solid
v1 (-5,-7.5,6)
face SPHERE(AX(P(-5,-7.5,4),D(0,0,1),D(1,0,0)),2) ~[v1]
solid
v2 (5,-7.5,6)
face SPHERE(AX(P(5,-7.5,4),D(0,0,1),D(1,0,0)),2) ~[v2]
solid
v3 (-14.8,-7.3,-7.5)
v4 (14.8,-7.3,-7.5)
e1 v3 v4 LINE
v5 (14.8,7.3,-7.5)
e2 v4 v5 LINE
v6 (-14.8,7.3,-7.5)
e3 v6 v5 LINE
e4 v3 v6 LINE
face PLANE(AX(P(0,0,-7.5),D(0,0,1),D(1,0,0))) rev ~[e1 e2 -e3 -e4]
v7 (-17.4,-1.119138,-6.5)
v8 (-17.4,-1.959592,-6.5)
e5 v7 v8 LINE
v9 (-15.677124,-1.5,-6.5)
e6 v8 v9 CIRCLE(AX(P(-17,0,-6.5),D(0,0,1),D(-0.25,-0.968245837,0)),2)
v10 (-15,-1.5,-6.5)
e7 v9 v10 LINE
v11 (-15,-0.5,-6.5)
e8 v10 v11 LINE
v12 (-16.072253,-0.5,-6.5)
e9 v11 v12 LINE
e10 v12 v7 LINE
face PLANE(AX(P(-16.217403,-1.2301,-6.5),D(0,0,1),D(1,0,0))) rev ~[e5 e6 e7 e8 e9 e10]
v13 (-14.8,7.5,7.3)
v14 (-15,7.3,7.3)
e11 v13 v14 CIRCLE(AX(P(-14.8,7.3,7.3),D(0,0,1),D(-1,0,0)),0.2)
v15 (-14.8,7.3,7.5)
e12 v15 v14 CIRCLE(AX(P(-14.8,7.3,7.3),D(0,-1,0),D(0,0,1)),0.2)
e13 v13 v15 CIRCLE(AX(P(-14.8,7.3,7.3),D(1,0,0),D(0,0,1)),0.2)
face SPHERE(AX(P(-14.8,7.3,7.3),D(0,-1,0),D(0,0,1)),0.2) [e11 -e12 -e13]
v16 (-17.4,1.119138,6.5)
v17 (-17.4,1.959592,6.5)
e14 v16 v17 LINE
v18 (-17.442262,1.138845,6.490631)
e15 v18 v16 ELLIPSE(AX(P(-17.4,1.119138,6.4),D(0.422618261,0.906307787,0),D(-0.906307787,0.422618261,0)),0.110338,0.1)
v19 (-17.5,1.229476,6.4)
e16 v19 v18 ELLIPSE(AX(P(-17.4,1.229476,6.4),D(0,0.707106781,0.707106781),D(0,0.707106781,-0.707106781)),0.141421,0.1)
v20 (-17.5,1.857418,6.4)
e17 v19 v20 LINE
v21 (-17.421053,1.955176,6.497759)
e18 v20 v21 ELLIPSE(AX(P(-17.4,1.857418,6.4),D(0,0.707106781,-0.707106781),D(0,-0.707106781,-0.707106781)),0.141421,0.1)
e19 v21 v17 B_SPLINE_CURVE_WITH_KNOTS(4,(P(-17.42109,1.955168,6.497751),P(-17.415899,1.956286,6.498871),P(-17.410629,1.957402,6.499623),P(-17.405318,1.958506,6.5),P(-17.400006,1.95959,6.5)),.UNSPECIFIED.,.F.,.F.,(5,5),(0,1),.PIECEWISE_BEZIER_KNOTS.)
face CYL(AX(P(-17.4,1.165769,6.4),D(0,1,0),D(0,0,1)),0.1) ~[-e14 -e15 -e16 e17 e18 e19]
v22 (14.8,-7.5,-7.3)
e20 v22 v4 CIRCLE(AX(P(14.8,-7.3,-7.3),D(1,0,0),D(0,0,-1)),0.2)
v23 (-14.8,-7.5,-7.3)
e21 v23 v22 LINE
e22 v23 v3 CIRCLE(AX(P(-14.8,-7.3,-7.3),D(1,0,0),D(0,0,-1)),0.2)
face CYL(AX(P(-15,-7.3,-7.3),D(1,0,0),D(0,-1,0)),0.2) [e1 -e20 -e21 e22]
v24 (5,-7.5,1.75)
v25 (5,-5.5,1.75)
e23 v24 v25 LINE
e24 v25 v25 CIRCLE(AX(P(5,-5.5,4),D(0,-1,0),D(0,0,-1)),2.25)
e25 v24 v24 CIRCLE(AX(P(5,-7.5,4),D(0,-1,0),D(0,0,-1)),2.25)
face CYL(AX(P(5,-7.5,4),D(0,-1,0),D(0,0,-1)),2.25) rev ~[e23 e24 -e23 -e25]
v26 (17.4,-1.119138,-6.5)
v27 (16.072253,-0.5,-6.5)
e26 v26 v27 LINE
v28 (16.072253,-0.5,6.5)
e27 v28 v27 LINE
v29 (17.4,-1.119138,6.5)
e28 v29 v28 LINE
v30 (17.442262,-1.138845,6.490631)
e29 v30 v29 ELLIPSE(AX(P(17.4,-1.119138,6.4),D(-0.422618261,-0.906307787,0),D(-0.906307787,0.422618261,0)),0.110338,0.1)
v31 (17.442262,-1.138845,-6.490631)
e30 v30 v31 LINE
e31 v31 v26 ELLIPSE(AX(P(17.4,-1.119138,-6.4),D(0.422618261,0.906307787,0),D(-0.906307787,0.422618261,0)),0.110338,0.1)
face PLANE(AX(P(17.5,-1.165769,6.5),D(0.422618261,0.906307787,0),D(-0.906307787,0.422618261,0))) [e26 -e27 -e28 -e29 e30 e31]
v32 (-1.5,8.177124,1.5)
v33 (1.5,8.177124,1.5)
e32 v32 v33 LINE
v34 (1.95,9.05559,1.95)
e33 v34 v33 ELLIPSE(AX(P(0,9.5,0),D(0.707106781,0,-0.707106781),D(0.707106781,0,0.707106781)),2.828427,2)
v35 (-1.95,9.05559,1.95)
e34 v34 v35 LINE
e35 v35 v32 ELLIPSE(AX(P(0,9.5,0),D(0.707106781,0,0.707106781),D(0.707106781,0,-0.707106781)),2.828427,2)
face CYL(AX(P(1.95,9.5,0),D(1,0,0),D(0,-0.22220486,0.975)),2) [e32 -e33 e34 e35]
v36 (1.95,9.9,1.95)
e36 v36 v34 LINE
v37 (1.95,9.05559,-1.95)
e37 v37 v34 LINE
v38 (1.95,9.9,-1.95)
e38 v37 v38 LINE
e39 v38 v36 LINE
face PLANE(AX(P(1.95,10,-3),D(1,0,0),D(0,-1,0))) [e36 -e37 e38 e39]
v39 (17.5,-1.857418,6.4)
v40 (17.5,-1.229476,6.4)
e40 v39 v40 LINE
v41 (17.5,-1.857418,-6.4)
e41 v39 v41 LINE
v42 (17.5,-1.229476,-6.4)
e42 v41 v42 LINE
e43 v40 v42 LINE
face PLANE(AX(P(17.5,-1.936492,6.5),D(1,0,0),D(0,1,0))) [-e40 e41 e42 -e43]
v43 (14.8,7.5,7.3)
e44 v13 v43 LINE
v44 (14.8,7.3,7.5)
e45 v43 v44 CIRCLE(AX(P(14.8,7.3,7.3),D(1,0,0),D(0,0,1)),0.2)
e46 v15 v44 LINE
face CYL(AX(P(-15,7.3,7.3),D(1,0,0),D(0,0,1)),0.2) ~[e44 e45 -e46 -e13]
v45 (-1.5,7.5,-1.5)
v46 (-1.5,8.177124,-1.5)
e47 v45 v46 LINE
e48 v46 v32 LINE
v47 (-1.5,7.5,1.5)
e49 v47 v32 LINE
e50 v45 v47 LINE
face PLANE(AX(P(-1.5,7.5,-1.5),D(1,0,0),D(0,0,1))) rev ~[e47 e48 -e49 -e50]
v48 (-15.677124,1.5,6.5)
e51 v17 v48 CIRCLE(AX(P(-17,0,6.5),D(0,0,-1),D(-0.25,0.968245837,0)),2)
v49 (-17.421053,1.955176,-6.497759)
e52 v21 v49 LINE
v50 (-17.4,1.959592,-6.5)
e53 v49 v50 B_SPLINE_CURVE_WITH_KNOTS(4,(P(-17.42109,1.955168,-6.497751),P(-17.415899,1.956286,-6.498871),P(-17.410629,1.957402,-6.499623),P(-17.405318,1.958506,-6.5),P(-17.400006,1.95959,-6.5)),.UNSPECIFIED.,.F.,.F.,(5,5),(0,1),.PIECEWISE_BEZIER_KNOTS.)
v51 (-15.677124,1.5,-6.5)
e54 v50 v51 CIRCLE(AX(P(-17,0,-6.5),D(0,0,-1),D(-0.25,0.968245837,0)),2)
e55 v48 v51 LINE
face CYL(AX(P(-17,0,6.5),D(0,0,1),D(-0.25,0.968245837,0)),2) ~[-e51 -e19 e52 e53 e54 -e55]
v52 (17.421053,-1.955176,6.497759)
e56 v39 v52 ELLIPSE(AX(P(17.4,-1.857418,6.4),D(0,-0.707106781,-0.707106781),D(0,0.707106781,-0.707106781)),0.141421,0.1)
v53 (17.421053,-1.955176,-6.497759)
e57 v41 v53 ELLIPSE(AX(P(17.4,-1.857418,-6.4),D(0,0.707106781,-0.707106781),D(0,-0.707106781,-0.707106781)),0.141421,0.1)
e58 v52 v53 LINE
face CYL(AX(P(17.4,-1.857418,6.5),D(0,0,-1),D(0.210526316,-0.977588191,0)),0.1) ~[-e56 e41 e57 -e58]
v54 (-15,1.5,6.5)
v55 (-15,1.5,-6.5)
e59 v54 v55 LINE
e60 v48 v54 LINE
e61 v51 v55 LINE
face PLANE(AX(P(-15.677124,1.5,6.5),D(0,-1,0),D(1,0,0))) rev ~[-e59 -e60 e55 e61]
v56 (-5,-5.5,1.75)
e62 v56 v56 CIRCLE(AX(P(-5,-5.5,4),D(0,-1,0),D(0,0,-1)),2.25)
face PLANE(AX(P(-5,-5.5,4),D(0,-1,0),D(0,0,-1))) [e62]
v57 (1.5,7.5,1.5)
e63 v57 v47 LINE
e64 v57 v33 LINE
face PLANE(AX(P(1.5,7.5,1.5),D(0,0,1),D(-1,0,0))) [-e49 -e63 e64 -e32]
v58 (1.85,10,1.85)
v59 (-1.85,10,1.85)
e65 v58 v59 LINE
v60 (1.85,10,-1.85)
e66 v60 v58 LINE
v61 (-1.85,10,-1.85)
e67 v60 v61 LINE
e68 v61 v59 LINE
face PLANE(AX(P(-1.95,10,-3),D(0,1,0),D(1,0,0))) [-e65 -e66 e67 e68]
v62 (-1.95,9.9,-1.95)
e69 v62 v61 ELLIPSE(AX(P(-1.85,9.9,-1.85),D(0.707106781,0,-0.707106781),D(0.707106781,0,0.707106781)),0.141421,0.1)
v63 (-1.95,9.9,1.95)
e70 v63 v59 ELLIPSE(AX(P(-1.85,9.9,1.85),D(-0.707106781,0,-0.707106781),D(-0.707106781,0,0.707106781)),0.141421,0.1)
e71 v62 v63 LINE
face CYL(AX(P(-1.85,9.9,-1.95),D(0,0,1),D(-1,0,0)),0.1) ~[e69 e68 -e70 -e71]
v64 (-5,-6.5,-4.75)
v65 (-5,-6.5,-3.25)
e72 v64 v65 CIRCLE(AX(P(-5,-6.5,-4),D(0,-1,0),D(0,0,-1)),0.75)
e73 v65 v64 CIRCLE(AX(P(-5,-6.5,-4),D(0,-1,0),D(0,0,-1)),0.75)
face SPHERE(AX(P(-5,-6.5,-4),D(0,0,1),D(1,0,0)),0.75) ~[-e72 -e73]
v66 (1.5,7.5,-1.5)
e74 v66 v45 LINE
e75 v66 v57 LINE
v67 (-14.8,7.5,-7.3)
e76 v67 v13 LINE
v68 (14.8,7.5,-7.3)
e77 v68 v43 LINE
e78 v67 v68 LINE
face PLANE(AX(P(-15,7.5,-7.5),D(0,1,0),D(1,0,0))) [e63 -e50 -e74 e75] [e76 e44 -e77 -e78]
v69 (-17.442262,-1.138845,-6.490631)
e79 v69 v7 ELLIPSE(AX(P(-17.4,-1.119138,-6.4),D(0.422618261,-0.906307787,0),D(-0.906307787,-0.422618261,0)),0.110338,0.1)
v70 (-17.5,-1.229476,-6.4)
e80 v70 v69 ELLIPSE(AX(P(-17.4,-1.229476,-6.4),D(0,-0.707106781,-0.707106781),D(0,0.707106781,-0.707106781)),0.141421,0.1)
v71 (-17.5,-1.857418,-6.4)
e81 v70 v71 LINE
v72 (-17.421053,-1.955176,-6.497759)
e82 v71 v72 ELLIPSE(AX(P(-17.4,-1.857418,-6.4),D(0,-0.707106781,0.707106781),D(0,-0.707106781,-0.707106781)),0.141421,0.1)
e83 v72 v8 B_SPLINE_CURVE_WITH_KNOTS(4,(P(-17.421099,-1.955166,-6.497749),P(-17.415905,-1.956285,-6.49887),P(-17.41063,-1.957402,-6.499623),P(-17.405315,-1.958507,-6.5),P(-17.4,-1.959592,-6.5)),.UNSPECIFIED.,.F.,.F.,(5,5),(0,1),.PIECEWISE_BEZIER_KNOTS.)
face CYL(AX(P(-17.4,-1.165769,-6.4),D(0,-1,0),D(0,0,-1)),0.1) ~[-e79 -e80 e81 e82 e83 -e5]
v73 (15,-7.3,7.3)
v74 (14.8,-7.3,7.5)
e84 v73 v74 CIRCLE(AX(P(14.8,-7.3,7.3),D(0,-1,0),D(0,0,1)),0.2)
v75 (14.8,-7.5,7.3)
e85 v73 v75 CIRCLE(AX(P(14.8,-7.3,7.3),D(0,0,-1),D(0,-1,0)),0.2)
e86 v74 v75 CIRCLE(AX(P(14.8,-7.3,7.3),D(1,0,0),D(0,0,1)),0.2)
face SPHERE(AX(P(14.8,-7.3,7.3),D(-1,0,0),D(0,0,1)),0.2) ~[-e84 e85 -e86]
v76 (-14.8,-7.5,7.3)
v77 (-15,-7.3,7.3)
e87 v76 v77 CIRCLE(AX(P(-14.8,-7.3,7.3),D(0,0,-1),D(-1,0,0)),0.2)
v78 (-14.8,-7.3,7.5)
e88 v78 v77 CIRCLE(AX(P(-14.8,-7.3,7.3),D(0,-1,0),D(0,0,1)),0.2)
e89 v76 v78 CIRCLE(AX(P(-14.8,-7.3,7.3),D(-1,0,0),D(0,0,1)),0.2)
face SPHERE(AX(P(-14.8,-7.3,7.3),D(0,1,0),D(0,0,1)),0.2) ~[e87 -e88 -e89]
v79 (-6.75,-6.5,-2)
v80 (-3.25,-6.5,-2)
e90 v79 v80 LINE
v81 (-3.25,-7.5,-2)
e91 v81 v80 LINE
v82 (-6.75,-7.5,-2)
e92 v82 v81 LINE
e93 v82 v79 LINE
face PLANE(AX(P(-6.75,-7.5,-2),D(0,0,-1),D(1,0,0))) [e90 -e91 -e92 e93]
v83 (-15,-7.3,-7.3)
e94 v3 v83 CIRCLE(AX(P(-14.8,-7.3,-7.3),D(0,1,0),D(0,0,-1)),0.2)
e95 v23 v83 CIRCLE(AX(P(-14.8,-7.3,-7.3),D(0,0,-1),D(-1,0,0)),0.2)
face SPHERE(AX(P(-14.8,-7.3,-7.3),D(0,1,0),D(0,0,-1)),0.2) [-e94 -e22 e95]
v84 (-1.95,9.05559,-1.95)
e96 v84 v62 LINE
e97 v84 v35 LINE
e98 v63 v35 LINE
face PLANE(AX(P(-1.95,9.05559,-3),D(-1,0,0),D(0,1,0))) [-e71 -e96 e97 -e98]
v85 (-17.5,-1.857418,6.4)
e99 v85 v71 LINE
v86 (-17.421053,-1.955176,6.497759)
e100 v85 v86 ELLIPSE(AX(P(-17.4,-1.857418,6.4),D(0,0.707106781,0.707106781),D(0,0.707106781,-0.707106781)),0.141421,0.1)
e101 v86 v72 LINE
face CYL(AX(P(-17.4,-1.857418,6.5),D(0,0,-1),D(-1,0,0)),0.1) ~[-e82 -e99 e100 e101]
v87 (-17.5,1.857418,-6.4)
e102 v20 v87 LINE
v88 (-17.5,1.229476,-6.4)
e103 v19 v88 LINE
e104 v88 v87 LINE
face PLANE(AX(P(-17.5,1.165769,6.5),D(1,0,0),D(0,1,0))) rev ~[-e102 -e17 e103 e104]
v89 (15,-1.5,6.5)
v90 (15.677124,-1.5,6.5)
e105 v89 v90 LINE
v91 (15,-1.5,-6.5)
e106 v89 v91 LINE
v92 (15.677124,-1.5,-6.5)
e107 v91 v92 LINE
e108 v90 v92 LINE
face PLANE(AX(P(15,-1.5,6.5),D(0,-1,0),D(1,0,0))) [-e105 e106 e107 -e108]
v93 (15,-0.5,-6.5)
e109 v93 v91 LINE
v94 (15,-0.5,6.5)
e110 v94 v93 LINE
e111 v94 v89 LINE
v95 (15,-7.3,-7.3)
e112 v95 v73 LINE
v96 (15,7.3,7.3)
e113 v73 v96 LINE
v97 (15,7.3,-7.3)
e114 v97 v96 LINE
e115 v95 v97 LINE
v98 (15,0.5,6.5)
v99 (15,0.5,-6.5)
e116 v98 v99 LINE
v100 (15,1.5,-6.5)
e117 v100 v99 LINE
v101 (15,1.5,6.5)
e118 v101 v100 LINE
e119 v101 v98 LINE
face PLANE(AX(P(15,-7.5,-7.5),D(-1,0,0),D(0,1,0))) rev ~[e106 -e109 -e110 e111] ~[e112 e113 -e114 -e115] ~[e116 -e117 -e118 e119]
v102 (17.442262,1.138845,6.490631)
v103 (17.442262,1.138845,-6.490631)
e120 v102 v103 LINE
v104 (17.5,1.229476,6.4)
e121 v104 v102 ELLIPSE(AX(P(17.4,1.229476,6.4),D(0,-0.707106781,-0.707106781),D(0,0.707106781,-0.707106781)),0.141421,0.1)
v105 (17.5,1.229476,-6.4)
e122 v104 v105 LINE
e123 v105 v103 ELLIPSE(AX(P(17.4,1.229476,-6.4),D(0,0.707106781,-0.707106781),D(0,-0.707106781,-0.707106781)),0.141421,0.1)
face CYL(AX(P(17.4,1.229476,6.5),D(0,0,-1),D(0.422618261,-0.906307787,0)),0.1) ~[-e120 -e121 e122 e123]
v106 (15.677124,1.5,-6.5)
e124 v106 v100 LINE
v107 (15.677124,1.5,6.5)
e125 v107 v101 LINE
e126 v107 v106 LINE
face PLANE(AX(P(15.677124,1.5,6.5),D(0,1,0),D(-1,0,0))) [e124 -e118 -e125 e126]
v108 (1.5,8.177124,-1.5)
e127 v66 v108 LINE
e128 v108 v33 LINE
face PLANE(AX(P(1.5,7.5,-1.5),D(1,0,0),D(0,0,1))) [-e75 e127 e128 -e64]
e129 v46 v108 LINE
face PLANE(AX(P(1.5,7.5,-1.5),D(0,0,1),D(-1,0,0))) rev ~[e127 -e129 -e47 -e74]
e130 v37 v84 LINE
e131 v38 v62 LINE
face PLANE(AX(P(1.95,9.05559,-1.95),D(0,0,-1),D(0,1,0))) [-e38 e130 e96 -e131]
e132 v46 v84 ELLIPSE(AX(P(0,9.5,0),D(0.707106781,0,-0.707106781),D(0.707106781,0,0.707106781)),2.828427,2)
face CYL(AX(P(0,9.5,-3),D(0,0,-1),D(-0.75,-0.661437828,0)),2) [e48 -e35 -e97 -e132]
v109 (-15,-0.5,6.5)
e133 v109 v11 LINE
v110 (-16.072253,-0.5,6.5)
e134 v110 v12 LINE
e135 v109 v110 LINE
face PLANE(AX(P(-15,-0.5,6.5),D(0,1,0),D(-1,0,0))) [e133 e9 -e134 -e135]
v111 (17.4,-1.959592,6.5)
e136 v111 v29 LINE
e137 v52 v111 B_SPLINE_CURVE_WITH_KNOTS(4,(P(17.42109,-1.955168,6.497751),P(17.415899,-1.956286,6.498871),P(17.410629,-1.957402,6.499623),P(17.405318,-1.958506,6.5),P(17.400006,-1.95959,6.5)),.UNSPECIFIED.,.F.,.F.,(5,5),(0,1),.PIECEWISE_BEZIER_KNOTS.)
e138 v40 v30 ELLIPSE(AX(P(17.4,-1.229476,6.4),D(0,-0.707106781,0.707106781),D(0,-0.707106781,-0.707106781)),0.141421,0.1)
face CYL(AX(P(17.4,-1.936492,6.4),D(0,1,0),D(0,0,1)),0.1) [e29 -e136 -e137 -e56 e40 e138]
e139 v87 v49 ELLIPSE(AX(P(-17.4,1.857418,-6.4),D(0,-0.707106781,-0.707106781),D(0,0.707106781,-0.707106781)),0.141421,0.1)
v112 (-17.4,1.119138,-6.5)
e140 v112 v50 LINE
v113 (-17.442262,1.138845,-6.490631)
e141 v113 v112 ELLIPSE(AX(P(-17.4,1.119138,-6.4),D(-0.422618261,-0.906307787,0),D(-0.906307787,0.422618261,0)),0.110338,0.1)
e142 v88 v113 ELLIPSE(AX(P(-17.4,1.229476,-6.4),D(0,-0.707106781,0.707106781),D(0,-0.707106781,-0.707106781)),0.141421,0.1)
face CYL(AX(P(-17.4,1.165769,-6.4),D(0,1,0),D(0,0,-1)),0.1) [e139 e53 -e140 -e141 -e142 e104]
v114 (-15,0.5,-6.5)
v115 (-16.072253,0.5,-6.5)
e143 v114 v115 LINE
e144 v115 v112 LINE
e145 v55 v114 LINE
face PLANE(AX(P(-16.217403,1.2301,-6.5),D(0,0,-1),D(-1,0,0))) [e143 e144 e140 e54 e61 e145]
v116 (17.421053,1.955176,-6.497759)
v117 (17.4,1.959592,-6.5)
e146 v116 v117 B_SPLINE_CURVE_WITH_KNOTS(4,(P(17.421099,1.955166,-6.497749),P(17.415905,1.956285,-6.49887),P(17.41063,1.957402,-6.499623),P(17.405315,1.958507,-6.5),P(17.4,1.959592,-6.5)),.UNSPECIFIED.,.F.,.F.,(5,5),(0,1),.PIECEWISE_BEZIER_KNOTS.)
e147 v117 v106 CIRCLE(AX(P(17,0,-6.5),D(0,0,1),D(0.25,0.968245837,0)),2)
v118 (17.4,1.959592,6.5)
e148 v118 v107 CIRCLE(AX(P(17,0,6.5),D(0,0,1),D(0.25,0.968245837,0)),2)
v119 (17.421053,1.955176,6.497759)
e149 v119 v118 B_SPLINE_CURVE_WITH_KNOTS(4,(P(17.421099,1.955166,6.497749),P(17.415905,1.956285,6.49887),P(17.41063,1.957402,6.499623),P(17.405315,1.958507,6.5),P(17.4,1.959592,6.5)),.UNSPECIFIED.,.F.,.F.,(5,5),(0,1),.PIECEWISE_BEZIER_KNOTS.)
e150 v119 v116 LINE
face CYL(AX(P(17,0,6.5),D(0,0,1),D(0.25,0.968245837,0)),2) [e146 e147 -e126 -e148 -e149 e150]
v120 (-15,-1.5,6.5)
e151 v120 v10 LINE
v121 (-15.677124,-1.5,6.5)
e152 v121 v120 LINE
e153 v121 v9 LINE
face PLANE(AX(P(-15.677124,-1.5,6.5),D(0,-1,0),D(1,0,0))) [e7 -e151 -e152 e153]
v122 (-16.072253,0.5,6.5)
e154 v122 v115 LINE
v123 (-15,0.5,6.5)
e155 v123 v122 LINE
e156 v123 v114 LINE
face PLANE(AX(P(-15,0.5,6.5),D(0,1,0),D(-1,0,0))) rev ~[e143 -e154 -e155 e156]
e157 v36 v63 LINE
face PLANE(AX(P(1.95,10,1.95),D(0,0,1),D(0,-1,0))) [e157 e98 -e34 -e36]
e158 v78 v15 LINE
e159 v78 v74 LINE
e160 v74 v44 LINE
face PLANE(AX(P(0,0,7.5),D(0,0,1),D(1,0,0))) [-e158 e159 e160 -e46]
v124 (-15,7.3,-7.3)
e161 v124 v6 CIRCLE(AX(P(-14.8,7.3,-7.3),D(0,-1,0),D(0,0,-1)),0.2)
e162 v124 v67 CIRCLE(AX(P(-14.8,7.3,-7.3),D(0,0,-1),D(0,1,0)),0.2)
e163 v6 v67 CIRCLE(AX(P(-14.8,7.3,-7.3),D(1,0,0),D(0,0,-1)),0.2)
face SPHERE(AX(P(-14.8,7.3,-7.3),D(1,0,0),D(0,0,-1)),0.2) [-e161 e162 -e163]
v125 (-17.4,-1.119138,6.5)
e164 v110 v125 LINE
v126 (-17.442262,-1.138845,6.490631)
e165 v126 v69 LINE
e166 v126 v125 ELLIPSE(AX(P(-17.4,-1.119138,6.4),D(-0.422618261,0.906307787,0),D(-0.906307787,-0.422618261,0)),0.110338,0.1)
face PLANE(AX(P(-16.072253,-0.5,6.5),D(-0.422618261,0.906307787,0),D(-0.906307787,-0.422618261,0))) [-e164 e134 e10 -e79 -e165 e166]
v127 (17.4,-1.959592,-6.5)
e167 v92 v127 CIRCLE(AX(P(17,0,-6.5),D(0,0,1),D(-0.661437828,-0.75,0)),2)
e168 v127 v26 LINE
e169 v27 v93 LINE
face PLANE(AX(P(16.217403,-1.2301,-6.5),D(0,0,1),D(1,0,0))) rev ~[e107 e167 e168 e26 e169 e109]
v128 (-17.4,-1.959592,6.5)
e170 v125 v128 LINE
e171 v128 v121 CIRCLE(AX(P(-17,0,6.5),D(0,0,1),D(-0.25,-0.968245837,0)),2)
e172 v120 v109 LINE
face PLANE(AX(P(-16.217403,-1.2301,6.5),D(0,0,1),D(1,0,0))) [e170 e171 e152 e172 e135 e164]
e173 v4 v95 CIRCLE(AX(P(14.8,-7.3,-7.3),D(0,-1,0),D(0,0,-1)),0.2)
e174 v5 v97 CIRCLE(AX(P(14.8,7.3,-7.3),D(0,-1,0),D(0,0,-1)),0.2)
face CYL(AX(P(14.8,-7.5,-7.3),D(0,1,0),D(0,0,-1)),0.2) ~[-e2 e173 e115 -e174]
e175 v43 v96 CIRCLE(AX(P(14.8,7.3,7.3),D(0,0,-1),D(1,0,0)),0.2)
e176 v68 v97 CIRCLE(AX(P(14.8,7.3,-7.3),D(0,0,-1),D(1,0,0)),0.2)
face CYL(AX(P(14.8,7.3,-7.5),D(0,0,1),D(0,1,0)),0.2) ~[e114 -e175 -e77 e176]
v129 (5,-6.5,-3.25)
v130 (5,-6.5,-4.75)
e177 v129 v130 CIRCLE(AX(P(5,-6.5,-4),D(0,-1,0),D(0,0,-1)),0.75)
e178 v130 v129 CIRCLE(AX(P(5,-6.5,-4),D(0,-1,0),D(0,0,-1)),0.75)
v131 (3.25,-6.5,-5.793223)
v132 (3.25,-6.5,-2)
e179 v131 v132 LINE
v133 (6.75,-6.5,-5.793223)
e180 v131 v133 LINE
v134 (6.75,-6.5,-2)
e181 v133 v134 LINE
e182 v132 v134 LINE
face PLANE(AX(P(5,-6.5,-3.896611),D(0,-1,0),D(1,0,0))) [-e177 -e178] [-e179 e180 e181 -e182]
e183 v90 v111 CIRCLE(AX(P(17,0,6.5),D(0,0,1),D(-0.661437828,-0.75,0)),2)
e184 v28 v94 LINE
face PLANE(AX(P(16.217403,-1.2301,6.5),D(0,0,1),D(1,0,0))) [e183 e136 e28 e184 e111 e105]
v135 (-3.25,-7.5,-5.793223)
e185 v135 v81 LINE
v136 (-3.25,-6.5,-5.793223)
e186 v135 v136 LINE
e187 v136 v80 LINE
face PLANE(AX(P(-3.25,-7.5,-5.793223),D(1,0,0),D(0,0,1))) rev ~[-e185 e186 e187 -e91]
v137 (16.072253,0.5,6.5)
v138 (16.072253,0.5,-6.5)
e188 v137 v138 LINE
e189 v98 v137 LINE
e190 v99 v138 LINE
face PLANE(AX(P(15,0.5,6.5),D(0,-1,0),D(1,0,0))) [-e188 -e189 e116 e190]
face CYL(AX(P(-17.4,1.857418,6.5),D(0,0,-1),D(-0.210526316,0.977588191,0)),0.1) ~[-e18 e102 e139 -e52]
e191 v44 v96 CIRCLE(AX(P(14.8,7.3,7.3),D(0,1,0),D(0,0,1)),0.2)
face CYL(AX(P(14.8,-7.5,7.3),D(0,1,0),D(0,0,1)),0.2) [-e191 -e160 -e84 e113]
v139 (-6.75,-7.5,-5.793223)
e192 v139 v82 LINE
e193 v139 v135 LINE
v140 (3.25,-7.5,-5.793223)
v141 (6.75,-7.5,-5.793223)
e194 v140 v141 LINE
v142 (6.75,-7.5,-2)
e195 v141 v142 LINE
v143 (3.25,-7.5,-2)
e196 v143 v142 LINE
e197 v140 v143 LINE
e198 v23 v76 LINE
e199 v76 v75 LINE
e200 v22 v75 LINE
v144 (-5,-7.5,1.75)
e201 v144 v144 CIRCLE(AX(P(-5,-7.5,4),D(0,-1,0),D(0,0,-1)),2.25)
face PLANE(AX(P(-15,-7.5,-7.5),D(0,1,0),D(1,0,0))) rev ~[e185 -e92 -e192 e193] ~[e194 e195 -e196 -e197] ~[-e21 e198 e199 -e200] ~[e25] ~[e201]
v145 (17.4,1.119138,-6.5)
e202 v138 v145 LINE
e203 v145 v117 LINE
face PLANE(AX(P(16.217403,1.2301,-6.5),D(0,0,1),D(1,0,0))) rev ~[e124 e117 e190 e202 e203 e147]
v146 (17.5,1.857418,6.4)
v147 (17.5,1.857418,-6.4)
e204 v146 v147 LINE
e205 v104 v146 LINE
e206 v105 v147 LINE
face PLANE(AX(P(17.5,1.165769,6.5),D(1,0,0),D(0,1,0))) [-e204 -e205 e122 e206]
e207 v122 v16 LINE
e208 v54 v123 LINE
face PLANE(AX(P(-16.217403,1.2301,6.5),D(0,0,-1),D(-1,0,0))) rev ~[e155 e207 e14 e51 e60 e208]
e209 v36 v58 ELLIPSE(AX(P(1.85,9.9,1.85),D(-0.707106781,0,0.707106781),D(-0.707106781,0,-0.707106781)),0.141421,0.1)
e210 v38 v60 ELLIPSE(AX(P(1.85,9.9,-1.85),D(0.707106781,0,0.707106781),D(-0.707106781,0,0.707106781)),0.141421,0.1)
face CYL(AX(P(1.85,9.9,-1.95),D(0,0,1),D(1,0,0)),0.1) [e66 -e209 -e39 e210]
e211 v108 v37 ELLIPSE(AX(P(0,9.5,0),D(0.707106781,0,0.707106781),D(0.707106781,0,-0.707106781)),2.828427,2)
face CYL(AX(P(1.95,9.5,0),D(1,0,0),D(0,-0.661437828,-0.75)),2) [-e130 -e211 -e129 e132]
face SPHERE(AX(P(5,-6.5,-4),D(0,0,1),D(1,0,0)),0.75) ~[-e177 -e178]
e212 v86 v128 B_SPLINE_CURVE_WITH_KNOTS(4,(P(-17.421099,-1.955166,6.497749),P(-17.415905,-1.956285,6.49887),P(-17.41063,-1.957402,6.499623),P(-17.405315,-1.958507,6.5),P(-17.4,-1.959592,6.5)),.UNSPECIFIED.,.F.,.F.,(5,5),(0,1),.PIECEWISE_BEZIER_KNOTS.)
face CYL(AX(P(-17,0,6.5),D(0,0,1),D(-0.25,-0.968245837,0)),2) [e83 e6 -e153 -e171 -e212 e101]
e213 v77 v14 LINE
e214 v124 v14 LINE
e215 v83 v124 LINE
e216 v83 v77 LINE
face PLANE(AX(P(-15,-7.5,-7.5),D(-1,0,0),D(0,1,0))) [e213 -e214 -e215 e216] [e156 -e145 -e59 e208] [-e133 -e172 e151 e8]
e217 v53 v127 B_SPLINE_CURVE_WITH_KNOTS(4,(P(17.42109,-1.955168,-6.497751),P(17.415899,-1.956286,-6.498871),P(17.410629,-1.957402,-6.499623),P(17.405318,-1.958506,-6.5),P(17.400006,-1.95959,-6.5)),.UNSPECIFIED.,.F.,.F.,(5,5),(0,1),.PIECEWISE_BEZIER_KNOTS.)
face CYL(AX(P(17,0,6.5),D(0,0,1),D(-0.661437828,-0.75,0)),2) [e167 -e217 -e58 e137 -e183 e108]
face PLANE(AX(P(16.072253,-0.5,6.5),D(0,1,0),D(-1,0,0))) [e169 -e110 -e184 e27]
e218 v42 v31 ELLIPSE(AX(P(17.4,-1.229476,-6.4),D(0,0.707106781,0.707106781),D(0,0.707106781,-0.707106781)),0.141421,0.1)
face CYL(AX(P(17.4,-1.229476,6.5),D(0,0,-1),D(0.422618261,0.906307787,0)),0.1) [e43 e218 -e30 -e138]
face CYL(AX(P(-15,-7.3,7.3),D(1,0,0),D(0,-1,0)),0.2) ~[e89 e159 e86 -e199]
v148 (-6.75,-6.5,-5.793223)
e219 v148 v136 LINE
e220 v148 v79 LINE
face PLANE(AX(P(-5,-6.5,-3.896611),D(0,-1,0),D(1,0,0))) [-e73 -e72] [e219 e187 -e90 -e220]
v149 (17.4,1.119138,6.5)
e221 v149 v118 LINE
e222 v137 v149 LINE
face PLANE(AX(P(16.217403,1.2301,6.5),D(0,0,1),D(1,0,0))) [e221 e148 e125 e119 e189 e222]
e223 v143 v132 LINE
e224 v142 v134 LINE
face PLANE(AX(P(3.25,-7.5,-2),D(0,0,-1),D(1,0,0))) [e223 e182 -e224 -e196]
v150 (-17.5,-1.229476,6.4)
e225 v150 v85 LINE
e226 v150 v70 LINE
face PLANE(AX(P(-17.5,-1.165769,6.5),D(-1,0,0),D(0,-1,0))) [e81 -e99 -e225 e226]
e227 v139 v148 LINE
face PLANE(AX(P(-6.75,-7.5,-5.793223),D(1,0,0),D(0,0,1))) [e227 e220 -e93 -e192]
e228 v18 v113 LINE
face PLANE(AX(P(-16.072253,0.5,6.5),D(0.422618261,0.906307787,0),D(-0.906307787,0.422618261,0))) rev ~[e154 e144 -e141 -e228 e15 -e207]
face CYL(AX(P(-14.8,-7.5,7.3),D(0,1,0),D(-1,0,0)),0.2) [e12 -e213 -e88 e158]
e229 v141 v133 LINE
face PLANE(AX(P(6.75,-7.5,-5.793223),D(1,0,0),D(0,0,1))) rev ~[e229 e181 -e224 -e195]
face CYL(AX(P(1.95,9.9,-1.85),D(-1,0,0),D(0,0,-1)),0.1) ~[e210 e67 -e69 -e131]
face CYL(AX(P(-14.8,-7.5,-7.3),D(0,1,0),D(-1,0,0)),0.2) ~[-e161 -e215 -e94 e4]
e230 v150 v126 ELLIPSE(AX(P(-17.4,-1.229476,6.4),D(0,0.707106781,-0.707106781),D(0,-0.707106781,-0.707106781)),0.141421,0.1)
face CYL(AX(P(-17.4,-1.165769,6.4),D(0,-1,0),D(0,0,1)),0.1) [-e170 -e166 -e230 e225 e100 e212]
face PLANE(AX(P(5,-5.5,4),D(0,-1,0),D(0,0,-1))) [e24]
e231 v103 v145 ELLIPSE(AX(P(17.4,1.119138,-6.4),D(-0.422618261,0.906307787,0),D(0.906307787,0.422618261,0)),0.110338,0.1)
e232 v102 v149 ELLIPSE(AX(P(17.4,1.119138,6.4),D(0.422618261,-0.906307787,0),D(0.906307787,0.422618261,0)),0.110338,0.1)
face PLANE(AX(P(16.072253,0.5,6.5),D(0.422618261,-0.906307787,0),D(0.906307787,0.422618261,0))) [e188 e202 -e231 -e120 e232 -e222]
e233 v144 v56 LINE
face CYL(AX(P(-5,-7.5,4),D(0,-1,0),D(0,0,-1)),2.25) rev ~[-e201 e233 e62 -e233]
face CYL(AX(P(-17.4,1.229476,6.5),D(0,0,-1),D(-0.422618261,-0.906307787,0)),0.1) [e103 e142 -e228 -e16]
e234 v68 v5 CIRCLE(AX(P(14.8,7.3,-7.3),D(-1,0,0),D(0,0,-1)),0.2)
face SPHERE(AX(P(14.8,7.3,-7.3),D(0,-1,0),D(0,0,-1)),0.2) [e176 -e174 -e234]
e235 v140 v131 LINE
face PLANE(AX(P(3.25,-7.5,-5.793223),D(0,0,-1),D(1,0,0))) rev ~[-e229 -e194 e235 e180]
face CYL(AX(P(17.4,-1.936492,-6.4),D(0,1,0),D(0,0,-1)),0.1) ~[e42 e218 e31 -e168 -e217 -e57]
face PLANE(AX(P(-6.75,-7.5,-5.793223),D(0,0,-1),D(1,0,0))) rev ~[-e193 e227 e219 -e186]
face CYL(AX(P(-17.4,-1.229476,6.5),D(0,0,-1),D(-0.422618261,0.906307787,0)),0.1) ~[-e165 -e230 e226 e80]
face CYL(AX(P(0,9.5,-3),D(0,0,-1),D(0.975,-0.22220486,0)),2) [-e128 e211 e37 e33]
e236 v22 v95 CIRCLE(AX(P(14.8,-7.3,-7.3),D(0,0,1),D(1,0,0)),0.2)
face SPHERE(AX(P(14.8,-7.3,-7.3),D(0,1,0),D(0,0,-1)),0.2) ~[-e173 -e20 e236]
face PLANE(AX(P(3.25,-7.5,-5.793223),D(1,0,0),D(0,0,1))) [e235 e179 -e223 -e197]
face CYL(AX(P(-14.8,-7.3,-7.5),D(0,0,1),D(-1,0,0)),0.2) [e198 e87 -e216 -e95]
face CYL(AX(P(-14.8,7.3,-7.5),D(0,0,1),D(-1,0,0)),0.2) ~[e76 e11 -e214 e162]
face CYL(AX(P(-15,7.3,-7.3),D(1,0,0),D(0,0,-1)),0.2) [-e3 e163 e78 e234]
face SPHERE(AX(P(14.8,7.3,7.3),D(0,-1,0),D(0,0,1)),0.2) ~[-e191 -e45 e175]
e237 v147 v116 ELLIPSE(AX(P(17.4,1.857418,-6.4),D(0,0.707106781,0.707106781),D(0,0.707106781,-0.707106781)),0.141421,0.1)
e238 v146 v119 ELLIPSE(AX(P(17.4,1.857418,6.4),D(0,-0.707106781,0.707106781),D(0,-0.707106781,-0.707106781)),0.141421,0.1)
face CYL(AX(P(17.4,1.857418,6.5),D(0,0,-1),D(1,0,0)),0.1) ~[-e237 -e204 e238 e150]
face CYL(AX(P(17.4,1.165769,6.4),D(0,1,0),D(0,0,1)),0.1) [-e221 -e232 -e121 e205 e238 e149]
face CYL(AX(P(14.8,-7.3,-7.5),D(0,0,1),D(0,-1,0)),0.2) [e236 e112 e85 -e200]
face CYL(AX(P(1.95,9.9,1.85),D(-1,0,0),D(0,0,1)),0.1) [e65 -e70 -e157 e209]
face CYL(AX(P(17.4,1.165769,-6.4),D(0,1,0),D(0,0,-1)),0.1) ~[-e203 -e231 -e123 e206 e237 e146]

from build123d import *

# Parameters (mm, degrees)
EXTRUDE_1_DEPTH      = 7.5
EXTRUDE_1_DEPTH_BACK = 7.5
SKETCH_1_W           = 30
SKETCH_1_H           = 15
EXTRUDE_START        = -1
EXTRUDE_2_DEPTH      = 13
SKETCH_3_W           = 3
SKETCH_3_H           = 3
EXTRUDE_3_DEPTH      = 1
EXTRUDE_4_DEPTH      = 2
EXTRUDE_4_DEPTH_BACK = 3
CUT_EXTRUDE_1_REACH  = 25.12
SKETCH_6_R           = 2.25
CUT_EXTRUDE_2_DEPTH  = 2
SKETCH_10_W          = 3.5
SKETCH_10_H          = 3.793222558
CUT_EXTRUDE_3_DEPTH  = 1
FILLET_1_R           = 0.1
FILLET_2_R           = 0.2


with BuildPart() as part:
    # 草图1 → 凸台-拉伸1 (new, two sides: drawn at the far end of the back side and taken through both)
    with BuildSketch(Plane.XY.offset(-EXTRUDE_1_DEPTH_BACK)):
        Rectangle(SKETCH_1_W, SKETCH_1_H)
    extrude(amount=EXTRUDE_1_DEPTH + EXTRUDE_1_DEPTH_BACK)

    # 草图2 → 凸台-拉伸2 (add)
    with BuildSketch(Plane.XY.offset(7.5).offset(EXTRUDE_START)):
        with BuildLine():
            Line((-15.677124344, 1.5), (-15, 1.5))
            Line((-15, 1.5), (-15, 0.5))
            Line((-15, 0.5), (-16.07225346, 0.5))
            Line((-16.07225346, 0.5), (-17.5, 1.165769145))
            Line((-17.5, 1.165769145), (-17.5, 1.936491673))
            ThreePointArc((-17.5, 1.936491673), (-16.53426152, 1.94501611), (-15.677124344, 1.5))
        make_face()
        with BuildLine():
            Line((-15.677124344, -1.5), (-15, -1.5))
            Line((-15, -1.5), (-15, -0.5))
            Line((-15, -0.5), (-16.07225346, -0.5))
            Line((-16.07225346, -0.5), (-17.5, -1.165769145))
            Line((-17.5, -1.165769145), (-17.5, -1.936491673))
            ThreePointArc((-17.5, -1.936491673), (-16.53426152, -1.94501611), (-15.677124344, -1.5))
        make_face()
        with BuildLine():
            Line((15, -0.5), (15, -1.5))
            Line((15, -1.5), (15.677124344, -1.5))
            ThreePointArc((15.677124344, -1.5), (16.53426152, -1.94501611), (17.5, -1.936491673))
            Line((17.5, -1.936491673), (17.5, -1.165769145))
            Line((17.5, -1.165769145), (16.07225346, -0.5))
            Line((16.07225346, -0.5), (15, -0.5))
        make_face()
        with BuildLine():
            Line((15, 0.5), (16.07225346, 0.5))
            Line((16.07225346, 0.5), (17.5, 1.165769145))
            Line((17.5, 1.165769145), (17.5, 1.936491673))
            ThreePointArc((17.5, 1.936491673), (16.53426152, 1.94501611), (15.677124344, 1.5))
            Line((15.677124344, 1.5), (15, 1.5))
            Line((15, 1.5), (15, 0.5))
        make_face()
    extrude(amount=-EXTRUDE_2_DEPTH)

    # 草图3 → 凸台-拉伸3 (add)
    with BuildSketch(Plane(origin=(0, 7.5, 0), x_dir=(-1, 0, 0), z_dir=(0, 1, 0))):
        Rectangle(SKETCH_3_W, SKETCH_3_H)
    extrude(amount=EXTRUDE_3_DEPTH)

    # 草图4 → 凸台-拉伸4 (add, two sides: drawn at the far end of the back side and taken through both)
    with BuildSketch(Plane.XY.offset(-EXTRUDE_4_DEPTH_BACK)):
        with BuildLine():
            Line((-1.95, 10), (1.95, 10))
            Line((1.95, 10), (1.95, 9.055590279))
            ThreePointArc((1.95, 9.055590279), (1.780042303, 8.588161527), (1.5, 8.177124344))
            Line((1.5, 8.177124344), (-1.5, 8.177124344))
            ThreePointArc((-1.5, 8.177124344), (-1.780042303, 8.588161527), (-1.95, 9.055590279))
            Line((-1.95, 9.055590279), (-1.95, 10))
        make_face()
    extrude(amount=EXTRUDE_4_DEPTH + EXTRUDE_4_DEPTH_BACK)

    # 草图5 → 切除-拉伸1 (cut, up to next)
    with BuildSketch(Plane(origin=(1.95, 0, 0), x_dir=(0, 0, -1), z_dir=(1, 0, 0)), mode=Mode.PRIVATE) as cut_extrude_1_sk1:
        with BuildLine():
            Line((-1.95, 10), (-1.95, 9.055590279))
            ThreePointArc((-1.95, 9.055590279), (-1.780042303, 8.588161527), (-1.5, 8.177124344))
            Line((-1.5, 8.177124344), (-2, 8.177124344))
            Line((-2, 8.177124344), (-2, 10))
            Line((-2, 10), (-1.95, 10))
        make_face()
    cut_extrude_1_tool1 = extrude(cut_extrude_1_sk1.sketch, amount=-CUT_EXTRUDE_1_REACH, mode=Mode.PRIVATE) & part.part
    # 草图5 → 切除-拉伸1 (cut, up to next)
    with BuildSketch(Plane(origin=(1.95, 0, 0), x_dir=(0, 0, -1), z_dir=(1, 0, 0)), mode=Mode.PRIVATE) as cut_extrude_1_sk2:
        with BuildLine():
            Line((3, 10), (3, 8.177124344))
            Line((3, 8.177124344), (1.5, 8.177124344))
            ThreePointArc((1.5, 8.177124344), (1.780042303, 8.588161527), (1.95, 9.055590279))
            Line((1.95, 9.055590279), (1.95, 10))
            Line((1.95, 10), (3, 10))
        make_face()
    cut_extrude_1_tool2 = extrude(cut_extrude_1_sk2.sketch, amount=-CUT_EXTRUDE_1_REACH, mode=Mode.PRIVATE) & part.part
    add(cut_extrude_1_tool1.solids().sort_by_distance((1.95, 8.675075, 1.873038))[0], mode=Mode.SUBTRACT)
    add(cut_extrude_1_tool2.solids().sort_by_distance((1.95, 9.039049, -2.424924))[0], mode=Mode.SUBTRACT)

    # 草图6 → 切除-拉伸2 (cut)
    with BuildSketch(Plane.XZ.offset(7.5)):
        with Locations((-5, 4)):
            Circle(SKETCH_6_R)
        with Locations((5, 4)):
            Circle(SKETCH_6_R)
    extrude(amount=-CUT_EXTRUDE_2_DEPTH, mode=Mode.SUBTRACT)

    # 草图10 → 切除-拉伸3 (cut)
    with BuildSketch(Plane.XZ.offset(7.5)):
        with Locations((-5, -3.896611279)):
            Rectangle(SKETCH_10_W, SKETCH_10_H)
        with Locations((5, -3.896611279)):
            Rectangle(SKETCH_10_W, SKETCH_10_H)
    extrude(amount=-CUT_EXTRUDE_3_DEPTH, mode=Mode.SUBTRACT)

    # 草图11 → 旋转3 (revolve)
    with BuildSketch(Plane.XZ.offset(6.5)):
        with BuildLine():
            Line((-5, -3.25), (-5, -4.75))
            ThreePointArc((-5, -4.75), (-4.25, -4), (-5, -3.25))
        make_face()
    revolve(axis=Axis((-5, -6.5, -3.25), (0, 0, -1)))

    # 草图12 → 旋转4 (revolve)
    with BuildSketch(Plane.XZ.offset(6.5)):
        with BuildLine():
            Line((5, -3.25), (5, -4.75))
            ThreePointArc((5, -4.75), (5.75, -4), (5, -3.25))
        make_face()
    revolve(axis=Axis((5, -6.5, -3.25), (0, 0, -1)))

    # 圆角1
    fillet_1_edges = [part.edges().sort_by_distance(p)[0] for p in [
        (1.95, 10, 0),
        (0, 10, 1.95),
        (-1.95, 10, 0),
        (0, 10, -1.95),
        (-17.5, -1.936491673, 0),
        (-17.5, -1.551130409, -6.5),
        (-17.5, -1.165769145, 0),
        (-17.5, -1.551130409, 6.5),
        (-17.5, 1.165769145, 0),
        (-17.5, 1.551130409, -6.5),
        (-17.5, 1.936491673, 0),
        (-17.5, 1.551130409, 6.5),
        (17.5, -1.165769145, 0),
        (17.5, -1.551130409, -6.5),
        (17.5, -1.936491673, 0),
        (17.5, -1.551130409, 6.5),
        (17.5, 1.936491673, 0),
        (17.5, 1.551130409, -6.5),
        (17.5, 1.165769145, 0),
        (17.5, 1.551130409, 6.5),
    ]]
    fillet(fillet_1_edges, radius=FILLET_1_R)

    # 圆角2
    fillet_2_edges = [part.edges().sort_by_distance(p)[0] for p in [
        (0, -7.5, -7.5),
        (15, 0, -7.5),
        (0, 7.5, -7.5),
        (-15, 0, -7.5),
        (0, 7.5, 7.5),
        (15, 0, 7.5),
        (0, -7.5, 7.5),
        (-15, 0, 7.5),
        (-15, -7.5, 0),
        (-15, 7.5, 0),
        (15, 7.5, 0),
        (15, -7.5, 0),
    ]]
    fillet(fillet_2_edges, radius=FILLET_2_R)


with BuildPart() as body_2:
    # 草图7 → 旋转1 (revolve)
    with BuildSketch(Plane.XZ.offset(7.5)):
        with BuildLine():
            Line((-5, 6), (-5, 2))
            ThreePointArc((-5, 2), (-3, 4), (-5, 6))
        make_face()
    revolve(axis=Axis((-5, -7.5, 6), (0, 0, -1)))


with BuildPart() as body_3:
    # 草图8 → 旋转2 (revolve)
    with BuildSketch(Plane.XZ.offset(7.5)):
        with BuildLine():
            Line((5, 6), (5, 2))
            ThreePointArc((5, 2), (7, 4), (5, 6))
        make_face()
    revolve(axis=Axis((5, -7.5, 6), (0, 0, -1)))


solid = Compound([part.part, body_2.part, body_3.part])
